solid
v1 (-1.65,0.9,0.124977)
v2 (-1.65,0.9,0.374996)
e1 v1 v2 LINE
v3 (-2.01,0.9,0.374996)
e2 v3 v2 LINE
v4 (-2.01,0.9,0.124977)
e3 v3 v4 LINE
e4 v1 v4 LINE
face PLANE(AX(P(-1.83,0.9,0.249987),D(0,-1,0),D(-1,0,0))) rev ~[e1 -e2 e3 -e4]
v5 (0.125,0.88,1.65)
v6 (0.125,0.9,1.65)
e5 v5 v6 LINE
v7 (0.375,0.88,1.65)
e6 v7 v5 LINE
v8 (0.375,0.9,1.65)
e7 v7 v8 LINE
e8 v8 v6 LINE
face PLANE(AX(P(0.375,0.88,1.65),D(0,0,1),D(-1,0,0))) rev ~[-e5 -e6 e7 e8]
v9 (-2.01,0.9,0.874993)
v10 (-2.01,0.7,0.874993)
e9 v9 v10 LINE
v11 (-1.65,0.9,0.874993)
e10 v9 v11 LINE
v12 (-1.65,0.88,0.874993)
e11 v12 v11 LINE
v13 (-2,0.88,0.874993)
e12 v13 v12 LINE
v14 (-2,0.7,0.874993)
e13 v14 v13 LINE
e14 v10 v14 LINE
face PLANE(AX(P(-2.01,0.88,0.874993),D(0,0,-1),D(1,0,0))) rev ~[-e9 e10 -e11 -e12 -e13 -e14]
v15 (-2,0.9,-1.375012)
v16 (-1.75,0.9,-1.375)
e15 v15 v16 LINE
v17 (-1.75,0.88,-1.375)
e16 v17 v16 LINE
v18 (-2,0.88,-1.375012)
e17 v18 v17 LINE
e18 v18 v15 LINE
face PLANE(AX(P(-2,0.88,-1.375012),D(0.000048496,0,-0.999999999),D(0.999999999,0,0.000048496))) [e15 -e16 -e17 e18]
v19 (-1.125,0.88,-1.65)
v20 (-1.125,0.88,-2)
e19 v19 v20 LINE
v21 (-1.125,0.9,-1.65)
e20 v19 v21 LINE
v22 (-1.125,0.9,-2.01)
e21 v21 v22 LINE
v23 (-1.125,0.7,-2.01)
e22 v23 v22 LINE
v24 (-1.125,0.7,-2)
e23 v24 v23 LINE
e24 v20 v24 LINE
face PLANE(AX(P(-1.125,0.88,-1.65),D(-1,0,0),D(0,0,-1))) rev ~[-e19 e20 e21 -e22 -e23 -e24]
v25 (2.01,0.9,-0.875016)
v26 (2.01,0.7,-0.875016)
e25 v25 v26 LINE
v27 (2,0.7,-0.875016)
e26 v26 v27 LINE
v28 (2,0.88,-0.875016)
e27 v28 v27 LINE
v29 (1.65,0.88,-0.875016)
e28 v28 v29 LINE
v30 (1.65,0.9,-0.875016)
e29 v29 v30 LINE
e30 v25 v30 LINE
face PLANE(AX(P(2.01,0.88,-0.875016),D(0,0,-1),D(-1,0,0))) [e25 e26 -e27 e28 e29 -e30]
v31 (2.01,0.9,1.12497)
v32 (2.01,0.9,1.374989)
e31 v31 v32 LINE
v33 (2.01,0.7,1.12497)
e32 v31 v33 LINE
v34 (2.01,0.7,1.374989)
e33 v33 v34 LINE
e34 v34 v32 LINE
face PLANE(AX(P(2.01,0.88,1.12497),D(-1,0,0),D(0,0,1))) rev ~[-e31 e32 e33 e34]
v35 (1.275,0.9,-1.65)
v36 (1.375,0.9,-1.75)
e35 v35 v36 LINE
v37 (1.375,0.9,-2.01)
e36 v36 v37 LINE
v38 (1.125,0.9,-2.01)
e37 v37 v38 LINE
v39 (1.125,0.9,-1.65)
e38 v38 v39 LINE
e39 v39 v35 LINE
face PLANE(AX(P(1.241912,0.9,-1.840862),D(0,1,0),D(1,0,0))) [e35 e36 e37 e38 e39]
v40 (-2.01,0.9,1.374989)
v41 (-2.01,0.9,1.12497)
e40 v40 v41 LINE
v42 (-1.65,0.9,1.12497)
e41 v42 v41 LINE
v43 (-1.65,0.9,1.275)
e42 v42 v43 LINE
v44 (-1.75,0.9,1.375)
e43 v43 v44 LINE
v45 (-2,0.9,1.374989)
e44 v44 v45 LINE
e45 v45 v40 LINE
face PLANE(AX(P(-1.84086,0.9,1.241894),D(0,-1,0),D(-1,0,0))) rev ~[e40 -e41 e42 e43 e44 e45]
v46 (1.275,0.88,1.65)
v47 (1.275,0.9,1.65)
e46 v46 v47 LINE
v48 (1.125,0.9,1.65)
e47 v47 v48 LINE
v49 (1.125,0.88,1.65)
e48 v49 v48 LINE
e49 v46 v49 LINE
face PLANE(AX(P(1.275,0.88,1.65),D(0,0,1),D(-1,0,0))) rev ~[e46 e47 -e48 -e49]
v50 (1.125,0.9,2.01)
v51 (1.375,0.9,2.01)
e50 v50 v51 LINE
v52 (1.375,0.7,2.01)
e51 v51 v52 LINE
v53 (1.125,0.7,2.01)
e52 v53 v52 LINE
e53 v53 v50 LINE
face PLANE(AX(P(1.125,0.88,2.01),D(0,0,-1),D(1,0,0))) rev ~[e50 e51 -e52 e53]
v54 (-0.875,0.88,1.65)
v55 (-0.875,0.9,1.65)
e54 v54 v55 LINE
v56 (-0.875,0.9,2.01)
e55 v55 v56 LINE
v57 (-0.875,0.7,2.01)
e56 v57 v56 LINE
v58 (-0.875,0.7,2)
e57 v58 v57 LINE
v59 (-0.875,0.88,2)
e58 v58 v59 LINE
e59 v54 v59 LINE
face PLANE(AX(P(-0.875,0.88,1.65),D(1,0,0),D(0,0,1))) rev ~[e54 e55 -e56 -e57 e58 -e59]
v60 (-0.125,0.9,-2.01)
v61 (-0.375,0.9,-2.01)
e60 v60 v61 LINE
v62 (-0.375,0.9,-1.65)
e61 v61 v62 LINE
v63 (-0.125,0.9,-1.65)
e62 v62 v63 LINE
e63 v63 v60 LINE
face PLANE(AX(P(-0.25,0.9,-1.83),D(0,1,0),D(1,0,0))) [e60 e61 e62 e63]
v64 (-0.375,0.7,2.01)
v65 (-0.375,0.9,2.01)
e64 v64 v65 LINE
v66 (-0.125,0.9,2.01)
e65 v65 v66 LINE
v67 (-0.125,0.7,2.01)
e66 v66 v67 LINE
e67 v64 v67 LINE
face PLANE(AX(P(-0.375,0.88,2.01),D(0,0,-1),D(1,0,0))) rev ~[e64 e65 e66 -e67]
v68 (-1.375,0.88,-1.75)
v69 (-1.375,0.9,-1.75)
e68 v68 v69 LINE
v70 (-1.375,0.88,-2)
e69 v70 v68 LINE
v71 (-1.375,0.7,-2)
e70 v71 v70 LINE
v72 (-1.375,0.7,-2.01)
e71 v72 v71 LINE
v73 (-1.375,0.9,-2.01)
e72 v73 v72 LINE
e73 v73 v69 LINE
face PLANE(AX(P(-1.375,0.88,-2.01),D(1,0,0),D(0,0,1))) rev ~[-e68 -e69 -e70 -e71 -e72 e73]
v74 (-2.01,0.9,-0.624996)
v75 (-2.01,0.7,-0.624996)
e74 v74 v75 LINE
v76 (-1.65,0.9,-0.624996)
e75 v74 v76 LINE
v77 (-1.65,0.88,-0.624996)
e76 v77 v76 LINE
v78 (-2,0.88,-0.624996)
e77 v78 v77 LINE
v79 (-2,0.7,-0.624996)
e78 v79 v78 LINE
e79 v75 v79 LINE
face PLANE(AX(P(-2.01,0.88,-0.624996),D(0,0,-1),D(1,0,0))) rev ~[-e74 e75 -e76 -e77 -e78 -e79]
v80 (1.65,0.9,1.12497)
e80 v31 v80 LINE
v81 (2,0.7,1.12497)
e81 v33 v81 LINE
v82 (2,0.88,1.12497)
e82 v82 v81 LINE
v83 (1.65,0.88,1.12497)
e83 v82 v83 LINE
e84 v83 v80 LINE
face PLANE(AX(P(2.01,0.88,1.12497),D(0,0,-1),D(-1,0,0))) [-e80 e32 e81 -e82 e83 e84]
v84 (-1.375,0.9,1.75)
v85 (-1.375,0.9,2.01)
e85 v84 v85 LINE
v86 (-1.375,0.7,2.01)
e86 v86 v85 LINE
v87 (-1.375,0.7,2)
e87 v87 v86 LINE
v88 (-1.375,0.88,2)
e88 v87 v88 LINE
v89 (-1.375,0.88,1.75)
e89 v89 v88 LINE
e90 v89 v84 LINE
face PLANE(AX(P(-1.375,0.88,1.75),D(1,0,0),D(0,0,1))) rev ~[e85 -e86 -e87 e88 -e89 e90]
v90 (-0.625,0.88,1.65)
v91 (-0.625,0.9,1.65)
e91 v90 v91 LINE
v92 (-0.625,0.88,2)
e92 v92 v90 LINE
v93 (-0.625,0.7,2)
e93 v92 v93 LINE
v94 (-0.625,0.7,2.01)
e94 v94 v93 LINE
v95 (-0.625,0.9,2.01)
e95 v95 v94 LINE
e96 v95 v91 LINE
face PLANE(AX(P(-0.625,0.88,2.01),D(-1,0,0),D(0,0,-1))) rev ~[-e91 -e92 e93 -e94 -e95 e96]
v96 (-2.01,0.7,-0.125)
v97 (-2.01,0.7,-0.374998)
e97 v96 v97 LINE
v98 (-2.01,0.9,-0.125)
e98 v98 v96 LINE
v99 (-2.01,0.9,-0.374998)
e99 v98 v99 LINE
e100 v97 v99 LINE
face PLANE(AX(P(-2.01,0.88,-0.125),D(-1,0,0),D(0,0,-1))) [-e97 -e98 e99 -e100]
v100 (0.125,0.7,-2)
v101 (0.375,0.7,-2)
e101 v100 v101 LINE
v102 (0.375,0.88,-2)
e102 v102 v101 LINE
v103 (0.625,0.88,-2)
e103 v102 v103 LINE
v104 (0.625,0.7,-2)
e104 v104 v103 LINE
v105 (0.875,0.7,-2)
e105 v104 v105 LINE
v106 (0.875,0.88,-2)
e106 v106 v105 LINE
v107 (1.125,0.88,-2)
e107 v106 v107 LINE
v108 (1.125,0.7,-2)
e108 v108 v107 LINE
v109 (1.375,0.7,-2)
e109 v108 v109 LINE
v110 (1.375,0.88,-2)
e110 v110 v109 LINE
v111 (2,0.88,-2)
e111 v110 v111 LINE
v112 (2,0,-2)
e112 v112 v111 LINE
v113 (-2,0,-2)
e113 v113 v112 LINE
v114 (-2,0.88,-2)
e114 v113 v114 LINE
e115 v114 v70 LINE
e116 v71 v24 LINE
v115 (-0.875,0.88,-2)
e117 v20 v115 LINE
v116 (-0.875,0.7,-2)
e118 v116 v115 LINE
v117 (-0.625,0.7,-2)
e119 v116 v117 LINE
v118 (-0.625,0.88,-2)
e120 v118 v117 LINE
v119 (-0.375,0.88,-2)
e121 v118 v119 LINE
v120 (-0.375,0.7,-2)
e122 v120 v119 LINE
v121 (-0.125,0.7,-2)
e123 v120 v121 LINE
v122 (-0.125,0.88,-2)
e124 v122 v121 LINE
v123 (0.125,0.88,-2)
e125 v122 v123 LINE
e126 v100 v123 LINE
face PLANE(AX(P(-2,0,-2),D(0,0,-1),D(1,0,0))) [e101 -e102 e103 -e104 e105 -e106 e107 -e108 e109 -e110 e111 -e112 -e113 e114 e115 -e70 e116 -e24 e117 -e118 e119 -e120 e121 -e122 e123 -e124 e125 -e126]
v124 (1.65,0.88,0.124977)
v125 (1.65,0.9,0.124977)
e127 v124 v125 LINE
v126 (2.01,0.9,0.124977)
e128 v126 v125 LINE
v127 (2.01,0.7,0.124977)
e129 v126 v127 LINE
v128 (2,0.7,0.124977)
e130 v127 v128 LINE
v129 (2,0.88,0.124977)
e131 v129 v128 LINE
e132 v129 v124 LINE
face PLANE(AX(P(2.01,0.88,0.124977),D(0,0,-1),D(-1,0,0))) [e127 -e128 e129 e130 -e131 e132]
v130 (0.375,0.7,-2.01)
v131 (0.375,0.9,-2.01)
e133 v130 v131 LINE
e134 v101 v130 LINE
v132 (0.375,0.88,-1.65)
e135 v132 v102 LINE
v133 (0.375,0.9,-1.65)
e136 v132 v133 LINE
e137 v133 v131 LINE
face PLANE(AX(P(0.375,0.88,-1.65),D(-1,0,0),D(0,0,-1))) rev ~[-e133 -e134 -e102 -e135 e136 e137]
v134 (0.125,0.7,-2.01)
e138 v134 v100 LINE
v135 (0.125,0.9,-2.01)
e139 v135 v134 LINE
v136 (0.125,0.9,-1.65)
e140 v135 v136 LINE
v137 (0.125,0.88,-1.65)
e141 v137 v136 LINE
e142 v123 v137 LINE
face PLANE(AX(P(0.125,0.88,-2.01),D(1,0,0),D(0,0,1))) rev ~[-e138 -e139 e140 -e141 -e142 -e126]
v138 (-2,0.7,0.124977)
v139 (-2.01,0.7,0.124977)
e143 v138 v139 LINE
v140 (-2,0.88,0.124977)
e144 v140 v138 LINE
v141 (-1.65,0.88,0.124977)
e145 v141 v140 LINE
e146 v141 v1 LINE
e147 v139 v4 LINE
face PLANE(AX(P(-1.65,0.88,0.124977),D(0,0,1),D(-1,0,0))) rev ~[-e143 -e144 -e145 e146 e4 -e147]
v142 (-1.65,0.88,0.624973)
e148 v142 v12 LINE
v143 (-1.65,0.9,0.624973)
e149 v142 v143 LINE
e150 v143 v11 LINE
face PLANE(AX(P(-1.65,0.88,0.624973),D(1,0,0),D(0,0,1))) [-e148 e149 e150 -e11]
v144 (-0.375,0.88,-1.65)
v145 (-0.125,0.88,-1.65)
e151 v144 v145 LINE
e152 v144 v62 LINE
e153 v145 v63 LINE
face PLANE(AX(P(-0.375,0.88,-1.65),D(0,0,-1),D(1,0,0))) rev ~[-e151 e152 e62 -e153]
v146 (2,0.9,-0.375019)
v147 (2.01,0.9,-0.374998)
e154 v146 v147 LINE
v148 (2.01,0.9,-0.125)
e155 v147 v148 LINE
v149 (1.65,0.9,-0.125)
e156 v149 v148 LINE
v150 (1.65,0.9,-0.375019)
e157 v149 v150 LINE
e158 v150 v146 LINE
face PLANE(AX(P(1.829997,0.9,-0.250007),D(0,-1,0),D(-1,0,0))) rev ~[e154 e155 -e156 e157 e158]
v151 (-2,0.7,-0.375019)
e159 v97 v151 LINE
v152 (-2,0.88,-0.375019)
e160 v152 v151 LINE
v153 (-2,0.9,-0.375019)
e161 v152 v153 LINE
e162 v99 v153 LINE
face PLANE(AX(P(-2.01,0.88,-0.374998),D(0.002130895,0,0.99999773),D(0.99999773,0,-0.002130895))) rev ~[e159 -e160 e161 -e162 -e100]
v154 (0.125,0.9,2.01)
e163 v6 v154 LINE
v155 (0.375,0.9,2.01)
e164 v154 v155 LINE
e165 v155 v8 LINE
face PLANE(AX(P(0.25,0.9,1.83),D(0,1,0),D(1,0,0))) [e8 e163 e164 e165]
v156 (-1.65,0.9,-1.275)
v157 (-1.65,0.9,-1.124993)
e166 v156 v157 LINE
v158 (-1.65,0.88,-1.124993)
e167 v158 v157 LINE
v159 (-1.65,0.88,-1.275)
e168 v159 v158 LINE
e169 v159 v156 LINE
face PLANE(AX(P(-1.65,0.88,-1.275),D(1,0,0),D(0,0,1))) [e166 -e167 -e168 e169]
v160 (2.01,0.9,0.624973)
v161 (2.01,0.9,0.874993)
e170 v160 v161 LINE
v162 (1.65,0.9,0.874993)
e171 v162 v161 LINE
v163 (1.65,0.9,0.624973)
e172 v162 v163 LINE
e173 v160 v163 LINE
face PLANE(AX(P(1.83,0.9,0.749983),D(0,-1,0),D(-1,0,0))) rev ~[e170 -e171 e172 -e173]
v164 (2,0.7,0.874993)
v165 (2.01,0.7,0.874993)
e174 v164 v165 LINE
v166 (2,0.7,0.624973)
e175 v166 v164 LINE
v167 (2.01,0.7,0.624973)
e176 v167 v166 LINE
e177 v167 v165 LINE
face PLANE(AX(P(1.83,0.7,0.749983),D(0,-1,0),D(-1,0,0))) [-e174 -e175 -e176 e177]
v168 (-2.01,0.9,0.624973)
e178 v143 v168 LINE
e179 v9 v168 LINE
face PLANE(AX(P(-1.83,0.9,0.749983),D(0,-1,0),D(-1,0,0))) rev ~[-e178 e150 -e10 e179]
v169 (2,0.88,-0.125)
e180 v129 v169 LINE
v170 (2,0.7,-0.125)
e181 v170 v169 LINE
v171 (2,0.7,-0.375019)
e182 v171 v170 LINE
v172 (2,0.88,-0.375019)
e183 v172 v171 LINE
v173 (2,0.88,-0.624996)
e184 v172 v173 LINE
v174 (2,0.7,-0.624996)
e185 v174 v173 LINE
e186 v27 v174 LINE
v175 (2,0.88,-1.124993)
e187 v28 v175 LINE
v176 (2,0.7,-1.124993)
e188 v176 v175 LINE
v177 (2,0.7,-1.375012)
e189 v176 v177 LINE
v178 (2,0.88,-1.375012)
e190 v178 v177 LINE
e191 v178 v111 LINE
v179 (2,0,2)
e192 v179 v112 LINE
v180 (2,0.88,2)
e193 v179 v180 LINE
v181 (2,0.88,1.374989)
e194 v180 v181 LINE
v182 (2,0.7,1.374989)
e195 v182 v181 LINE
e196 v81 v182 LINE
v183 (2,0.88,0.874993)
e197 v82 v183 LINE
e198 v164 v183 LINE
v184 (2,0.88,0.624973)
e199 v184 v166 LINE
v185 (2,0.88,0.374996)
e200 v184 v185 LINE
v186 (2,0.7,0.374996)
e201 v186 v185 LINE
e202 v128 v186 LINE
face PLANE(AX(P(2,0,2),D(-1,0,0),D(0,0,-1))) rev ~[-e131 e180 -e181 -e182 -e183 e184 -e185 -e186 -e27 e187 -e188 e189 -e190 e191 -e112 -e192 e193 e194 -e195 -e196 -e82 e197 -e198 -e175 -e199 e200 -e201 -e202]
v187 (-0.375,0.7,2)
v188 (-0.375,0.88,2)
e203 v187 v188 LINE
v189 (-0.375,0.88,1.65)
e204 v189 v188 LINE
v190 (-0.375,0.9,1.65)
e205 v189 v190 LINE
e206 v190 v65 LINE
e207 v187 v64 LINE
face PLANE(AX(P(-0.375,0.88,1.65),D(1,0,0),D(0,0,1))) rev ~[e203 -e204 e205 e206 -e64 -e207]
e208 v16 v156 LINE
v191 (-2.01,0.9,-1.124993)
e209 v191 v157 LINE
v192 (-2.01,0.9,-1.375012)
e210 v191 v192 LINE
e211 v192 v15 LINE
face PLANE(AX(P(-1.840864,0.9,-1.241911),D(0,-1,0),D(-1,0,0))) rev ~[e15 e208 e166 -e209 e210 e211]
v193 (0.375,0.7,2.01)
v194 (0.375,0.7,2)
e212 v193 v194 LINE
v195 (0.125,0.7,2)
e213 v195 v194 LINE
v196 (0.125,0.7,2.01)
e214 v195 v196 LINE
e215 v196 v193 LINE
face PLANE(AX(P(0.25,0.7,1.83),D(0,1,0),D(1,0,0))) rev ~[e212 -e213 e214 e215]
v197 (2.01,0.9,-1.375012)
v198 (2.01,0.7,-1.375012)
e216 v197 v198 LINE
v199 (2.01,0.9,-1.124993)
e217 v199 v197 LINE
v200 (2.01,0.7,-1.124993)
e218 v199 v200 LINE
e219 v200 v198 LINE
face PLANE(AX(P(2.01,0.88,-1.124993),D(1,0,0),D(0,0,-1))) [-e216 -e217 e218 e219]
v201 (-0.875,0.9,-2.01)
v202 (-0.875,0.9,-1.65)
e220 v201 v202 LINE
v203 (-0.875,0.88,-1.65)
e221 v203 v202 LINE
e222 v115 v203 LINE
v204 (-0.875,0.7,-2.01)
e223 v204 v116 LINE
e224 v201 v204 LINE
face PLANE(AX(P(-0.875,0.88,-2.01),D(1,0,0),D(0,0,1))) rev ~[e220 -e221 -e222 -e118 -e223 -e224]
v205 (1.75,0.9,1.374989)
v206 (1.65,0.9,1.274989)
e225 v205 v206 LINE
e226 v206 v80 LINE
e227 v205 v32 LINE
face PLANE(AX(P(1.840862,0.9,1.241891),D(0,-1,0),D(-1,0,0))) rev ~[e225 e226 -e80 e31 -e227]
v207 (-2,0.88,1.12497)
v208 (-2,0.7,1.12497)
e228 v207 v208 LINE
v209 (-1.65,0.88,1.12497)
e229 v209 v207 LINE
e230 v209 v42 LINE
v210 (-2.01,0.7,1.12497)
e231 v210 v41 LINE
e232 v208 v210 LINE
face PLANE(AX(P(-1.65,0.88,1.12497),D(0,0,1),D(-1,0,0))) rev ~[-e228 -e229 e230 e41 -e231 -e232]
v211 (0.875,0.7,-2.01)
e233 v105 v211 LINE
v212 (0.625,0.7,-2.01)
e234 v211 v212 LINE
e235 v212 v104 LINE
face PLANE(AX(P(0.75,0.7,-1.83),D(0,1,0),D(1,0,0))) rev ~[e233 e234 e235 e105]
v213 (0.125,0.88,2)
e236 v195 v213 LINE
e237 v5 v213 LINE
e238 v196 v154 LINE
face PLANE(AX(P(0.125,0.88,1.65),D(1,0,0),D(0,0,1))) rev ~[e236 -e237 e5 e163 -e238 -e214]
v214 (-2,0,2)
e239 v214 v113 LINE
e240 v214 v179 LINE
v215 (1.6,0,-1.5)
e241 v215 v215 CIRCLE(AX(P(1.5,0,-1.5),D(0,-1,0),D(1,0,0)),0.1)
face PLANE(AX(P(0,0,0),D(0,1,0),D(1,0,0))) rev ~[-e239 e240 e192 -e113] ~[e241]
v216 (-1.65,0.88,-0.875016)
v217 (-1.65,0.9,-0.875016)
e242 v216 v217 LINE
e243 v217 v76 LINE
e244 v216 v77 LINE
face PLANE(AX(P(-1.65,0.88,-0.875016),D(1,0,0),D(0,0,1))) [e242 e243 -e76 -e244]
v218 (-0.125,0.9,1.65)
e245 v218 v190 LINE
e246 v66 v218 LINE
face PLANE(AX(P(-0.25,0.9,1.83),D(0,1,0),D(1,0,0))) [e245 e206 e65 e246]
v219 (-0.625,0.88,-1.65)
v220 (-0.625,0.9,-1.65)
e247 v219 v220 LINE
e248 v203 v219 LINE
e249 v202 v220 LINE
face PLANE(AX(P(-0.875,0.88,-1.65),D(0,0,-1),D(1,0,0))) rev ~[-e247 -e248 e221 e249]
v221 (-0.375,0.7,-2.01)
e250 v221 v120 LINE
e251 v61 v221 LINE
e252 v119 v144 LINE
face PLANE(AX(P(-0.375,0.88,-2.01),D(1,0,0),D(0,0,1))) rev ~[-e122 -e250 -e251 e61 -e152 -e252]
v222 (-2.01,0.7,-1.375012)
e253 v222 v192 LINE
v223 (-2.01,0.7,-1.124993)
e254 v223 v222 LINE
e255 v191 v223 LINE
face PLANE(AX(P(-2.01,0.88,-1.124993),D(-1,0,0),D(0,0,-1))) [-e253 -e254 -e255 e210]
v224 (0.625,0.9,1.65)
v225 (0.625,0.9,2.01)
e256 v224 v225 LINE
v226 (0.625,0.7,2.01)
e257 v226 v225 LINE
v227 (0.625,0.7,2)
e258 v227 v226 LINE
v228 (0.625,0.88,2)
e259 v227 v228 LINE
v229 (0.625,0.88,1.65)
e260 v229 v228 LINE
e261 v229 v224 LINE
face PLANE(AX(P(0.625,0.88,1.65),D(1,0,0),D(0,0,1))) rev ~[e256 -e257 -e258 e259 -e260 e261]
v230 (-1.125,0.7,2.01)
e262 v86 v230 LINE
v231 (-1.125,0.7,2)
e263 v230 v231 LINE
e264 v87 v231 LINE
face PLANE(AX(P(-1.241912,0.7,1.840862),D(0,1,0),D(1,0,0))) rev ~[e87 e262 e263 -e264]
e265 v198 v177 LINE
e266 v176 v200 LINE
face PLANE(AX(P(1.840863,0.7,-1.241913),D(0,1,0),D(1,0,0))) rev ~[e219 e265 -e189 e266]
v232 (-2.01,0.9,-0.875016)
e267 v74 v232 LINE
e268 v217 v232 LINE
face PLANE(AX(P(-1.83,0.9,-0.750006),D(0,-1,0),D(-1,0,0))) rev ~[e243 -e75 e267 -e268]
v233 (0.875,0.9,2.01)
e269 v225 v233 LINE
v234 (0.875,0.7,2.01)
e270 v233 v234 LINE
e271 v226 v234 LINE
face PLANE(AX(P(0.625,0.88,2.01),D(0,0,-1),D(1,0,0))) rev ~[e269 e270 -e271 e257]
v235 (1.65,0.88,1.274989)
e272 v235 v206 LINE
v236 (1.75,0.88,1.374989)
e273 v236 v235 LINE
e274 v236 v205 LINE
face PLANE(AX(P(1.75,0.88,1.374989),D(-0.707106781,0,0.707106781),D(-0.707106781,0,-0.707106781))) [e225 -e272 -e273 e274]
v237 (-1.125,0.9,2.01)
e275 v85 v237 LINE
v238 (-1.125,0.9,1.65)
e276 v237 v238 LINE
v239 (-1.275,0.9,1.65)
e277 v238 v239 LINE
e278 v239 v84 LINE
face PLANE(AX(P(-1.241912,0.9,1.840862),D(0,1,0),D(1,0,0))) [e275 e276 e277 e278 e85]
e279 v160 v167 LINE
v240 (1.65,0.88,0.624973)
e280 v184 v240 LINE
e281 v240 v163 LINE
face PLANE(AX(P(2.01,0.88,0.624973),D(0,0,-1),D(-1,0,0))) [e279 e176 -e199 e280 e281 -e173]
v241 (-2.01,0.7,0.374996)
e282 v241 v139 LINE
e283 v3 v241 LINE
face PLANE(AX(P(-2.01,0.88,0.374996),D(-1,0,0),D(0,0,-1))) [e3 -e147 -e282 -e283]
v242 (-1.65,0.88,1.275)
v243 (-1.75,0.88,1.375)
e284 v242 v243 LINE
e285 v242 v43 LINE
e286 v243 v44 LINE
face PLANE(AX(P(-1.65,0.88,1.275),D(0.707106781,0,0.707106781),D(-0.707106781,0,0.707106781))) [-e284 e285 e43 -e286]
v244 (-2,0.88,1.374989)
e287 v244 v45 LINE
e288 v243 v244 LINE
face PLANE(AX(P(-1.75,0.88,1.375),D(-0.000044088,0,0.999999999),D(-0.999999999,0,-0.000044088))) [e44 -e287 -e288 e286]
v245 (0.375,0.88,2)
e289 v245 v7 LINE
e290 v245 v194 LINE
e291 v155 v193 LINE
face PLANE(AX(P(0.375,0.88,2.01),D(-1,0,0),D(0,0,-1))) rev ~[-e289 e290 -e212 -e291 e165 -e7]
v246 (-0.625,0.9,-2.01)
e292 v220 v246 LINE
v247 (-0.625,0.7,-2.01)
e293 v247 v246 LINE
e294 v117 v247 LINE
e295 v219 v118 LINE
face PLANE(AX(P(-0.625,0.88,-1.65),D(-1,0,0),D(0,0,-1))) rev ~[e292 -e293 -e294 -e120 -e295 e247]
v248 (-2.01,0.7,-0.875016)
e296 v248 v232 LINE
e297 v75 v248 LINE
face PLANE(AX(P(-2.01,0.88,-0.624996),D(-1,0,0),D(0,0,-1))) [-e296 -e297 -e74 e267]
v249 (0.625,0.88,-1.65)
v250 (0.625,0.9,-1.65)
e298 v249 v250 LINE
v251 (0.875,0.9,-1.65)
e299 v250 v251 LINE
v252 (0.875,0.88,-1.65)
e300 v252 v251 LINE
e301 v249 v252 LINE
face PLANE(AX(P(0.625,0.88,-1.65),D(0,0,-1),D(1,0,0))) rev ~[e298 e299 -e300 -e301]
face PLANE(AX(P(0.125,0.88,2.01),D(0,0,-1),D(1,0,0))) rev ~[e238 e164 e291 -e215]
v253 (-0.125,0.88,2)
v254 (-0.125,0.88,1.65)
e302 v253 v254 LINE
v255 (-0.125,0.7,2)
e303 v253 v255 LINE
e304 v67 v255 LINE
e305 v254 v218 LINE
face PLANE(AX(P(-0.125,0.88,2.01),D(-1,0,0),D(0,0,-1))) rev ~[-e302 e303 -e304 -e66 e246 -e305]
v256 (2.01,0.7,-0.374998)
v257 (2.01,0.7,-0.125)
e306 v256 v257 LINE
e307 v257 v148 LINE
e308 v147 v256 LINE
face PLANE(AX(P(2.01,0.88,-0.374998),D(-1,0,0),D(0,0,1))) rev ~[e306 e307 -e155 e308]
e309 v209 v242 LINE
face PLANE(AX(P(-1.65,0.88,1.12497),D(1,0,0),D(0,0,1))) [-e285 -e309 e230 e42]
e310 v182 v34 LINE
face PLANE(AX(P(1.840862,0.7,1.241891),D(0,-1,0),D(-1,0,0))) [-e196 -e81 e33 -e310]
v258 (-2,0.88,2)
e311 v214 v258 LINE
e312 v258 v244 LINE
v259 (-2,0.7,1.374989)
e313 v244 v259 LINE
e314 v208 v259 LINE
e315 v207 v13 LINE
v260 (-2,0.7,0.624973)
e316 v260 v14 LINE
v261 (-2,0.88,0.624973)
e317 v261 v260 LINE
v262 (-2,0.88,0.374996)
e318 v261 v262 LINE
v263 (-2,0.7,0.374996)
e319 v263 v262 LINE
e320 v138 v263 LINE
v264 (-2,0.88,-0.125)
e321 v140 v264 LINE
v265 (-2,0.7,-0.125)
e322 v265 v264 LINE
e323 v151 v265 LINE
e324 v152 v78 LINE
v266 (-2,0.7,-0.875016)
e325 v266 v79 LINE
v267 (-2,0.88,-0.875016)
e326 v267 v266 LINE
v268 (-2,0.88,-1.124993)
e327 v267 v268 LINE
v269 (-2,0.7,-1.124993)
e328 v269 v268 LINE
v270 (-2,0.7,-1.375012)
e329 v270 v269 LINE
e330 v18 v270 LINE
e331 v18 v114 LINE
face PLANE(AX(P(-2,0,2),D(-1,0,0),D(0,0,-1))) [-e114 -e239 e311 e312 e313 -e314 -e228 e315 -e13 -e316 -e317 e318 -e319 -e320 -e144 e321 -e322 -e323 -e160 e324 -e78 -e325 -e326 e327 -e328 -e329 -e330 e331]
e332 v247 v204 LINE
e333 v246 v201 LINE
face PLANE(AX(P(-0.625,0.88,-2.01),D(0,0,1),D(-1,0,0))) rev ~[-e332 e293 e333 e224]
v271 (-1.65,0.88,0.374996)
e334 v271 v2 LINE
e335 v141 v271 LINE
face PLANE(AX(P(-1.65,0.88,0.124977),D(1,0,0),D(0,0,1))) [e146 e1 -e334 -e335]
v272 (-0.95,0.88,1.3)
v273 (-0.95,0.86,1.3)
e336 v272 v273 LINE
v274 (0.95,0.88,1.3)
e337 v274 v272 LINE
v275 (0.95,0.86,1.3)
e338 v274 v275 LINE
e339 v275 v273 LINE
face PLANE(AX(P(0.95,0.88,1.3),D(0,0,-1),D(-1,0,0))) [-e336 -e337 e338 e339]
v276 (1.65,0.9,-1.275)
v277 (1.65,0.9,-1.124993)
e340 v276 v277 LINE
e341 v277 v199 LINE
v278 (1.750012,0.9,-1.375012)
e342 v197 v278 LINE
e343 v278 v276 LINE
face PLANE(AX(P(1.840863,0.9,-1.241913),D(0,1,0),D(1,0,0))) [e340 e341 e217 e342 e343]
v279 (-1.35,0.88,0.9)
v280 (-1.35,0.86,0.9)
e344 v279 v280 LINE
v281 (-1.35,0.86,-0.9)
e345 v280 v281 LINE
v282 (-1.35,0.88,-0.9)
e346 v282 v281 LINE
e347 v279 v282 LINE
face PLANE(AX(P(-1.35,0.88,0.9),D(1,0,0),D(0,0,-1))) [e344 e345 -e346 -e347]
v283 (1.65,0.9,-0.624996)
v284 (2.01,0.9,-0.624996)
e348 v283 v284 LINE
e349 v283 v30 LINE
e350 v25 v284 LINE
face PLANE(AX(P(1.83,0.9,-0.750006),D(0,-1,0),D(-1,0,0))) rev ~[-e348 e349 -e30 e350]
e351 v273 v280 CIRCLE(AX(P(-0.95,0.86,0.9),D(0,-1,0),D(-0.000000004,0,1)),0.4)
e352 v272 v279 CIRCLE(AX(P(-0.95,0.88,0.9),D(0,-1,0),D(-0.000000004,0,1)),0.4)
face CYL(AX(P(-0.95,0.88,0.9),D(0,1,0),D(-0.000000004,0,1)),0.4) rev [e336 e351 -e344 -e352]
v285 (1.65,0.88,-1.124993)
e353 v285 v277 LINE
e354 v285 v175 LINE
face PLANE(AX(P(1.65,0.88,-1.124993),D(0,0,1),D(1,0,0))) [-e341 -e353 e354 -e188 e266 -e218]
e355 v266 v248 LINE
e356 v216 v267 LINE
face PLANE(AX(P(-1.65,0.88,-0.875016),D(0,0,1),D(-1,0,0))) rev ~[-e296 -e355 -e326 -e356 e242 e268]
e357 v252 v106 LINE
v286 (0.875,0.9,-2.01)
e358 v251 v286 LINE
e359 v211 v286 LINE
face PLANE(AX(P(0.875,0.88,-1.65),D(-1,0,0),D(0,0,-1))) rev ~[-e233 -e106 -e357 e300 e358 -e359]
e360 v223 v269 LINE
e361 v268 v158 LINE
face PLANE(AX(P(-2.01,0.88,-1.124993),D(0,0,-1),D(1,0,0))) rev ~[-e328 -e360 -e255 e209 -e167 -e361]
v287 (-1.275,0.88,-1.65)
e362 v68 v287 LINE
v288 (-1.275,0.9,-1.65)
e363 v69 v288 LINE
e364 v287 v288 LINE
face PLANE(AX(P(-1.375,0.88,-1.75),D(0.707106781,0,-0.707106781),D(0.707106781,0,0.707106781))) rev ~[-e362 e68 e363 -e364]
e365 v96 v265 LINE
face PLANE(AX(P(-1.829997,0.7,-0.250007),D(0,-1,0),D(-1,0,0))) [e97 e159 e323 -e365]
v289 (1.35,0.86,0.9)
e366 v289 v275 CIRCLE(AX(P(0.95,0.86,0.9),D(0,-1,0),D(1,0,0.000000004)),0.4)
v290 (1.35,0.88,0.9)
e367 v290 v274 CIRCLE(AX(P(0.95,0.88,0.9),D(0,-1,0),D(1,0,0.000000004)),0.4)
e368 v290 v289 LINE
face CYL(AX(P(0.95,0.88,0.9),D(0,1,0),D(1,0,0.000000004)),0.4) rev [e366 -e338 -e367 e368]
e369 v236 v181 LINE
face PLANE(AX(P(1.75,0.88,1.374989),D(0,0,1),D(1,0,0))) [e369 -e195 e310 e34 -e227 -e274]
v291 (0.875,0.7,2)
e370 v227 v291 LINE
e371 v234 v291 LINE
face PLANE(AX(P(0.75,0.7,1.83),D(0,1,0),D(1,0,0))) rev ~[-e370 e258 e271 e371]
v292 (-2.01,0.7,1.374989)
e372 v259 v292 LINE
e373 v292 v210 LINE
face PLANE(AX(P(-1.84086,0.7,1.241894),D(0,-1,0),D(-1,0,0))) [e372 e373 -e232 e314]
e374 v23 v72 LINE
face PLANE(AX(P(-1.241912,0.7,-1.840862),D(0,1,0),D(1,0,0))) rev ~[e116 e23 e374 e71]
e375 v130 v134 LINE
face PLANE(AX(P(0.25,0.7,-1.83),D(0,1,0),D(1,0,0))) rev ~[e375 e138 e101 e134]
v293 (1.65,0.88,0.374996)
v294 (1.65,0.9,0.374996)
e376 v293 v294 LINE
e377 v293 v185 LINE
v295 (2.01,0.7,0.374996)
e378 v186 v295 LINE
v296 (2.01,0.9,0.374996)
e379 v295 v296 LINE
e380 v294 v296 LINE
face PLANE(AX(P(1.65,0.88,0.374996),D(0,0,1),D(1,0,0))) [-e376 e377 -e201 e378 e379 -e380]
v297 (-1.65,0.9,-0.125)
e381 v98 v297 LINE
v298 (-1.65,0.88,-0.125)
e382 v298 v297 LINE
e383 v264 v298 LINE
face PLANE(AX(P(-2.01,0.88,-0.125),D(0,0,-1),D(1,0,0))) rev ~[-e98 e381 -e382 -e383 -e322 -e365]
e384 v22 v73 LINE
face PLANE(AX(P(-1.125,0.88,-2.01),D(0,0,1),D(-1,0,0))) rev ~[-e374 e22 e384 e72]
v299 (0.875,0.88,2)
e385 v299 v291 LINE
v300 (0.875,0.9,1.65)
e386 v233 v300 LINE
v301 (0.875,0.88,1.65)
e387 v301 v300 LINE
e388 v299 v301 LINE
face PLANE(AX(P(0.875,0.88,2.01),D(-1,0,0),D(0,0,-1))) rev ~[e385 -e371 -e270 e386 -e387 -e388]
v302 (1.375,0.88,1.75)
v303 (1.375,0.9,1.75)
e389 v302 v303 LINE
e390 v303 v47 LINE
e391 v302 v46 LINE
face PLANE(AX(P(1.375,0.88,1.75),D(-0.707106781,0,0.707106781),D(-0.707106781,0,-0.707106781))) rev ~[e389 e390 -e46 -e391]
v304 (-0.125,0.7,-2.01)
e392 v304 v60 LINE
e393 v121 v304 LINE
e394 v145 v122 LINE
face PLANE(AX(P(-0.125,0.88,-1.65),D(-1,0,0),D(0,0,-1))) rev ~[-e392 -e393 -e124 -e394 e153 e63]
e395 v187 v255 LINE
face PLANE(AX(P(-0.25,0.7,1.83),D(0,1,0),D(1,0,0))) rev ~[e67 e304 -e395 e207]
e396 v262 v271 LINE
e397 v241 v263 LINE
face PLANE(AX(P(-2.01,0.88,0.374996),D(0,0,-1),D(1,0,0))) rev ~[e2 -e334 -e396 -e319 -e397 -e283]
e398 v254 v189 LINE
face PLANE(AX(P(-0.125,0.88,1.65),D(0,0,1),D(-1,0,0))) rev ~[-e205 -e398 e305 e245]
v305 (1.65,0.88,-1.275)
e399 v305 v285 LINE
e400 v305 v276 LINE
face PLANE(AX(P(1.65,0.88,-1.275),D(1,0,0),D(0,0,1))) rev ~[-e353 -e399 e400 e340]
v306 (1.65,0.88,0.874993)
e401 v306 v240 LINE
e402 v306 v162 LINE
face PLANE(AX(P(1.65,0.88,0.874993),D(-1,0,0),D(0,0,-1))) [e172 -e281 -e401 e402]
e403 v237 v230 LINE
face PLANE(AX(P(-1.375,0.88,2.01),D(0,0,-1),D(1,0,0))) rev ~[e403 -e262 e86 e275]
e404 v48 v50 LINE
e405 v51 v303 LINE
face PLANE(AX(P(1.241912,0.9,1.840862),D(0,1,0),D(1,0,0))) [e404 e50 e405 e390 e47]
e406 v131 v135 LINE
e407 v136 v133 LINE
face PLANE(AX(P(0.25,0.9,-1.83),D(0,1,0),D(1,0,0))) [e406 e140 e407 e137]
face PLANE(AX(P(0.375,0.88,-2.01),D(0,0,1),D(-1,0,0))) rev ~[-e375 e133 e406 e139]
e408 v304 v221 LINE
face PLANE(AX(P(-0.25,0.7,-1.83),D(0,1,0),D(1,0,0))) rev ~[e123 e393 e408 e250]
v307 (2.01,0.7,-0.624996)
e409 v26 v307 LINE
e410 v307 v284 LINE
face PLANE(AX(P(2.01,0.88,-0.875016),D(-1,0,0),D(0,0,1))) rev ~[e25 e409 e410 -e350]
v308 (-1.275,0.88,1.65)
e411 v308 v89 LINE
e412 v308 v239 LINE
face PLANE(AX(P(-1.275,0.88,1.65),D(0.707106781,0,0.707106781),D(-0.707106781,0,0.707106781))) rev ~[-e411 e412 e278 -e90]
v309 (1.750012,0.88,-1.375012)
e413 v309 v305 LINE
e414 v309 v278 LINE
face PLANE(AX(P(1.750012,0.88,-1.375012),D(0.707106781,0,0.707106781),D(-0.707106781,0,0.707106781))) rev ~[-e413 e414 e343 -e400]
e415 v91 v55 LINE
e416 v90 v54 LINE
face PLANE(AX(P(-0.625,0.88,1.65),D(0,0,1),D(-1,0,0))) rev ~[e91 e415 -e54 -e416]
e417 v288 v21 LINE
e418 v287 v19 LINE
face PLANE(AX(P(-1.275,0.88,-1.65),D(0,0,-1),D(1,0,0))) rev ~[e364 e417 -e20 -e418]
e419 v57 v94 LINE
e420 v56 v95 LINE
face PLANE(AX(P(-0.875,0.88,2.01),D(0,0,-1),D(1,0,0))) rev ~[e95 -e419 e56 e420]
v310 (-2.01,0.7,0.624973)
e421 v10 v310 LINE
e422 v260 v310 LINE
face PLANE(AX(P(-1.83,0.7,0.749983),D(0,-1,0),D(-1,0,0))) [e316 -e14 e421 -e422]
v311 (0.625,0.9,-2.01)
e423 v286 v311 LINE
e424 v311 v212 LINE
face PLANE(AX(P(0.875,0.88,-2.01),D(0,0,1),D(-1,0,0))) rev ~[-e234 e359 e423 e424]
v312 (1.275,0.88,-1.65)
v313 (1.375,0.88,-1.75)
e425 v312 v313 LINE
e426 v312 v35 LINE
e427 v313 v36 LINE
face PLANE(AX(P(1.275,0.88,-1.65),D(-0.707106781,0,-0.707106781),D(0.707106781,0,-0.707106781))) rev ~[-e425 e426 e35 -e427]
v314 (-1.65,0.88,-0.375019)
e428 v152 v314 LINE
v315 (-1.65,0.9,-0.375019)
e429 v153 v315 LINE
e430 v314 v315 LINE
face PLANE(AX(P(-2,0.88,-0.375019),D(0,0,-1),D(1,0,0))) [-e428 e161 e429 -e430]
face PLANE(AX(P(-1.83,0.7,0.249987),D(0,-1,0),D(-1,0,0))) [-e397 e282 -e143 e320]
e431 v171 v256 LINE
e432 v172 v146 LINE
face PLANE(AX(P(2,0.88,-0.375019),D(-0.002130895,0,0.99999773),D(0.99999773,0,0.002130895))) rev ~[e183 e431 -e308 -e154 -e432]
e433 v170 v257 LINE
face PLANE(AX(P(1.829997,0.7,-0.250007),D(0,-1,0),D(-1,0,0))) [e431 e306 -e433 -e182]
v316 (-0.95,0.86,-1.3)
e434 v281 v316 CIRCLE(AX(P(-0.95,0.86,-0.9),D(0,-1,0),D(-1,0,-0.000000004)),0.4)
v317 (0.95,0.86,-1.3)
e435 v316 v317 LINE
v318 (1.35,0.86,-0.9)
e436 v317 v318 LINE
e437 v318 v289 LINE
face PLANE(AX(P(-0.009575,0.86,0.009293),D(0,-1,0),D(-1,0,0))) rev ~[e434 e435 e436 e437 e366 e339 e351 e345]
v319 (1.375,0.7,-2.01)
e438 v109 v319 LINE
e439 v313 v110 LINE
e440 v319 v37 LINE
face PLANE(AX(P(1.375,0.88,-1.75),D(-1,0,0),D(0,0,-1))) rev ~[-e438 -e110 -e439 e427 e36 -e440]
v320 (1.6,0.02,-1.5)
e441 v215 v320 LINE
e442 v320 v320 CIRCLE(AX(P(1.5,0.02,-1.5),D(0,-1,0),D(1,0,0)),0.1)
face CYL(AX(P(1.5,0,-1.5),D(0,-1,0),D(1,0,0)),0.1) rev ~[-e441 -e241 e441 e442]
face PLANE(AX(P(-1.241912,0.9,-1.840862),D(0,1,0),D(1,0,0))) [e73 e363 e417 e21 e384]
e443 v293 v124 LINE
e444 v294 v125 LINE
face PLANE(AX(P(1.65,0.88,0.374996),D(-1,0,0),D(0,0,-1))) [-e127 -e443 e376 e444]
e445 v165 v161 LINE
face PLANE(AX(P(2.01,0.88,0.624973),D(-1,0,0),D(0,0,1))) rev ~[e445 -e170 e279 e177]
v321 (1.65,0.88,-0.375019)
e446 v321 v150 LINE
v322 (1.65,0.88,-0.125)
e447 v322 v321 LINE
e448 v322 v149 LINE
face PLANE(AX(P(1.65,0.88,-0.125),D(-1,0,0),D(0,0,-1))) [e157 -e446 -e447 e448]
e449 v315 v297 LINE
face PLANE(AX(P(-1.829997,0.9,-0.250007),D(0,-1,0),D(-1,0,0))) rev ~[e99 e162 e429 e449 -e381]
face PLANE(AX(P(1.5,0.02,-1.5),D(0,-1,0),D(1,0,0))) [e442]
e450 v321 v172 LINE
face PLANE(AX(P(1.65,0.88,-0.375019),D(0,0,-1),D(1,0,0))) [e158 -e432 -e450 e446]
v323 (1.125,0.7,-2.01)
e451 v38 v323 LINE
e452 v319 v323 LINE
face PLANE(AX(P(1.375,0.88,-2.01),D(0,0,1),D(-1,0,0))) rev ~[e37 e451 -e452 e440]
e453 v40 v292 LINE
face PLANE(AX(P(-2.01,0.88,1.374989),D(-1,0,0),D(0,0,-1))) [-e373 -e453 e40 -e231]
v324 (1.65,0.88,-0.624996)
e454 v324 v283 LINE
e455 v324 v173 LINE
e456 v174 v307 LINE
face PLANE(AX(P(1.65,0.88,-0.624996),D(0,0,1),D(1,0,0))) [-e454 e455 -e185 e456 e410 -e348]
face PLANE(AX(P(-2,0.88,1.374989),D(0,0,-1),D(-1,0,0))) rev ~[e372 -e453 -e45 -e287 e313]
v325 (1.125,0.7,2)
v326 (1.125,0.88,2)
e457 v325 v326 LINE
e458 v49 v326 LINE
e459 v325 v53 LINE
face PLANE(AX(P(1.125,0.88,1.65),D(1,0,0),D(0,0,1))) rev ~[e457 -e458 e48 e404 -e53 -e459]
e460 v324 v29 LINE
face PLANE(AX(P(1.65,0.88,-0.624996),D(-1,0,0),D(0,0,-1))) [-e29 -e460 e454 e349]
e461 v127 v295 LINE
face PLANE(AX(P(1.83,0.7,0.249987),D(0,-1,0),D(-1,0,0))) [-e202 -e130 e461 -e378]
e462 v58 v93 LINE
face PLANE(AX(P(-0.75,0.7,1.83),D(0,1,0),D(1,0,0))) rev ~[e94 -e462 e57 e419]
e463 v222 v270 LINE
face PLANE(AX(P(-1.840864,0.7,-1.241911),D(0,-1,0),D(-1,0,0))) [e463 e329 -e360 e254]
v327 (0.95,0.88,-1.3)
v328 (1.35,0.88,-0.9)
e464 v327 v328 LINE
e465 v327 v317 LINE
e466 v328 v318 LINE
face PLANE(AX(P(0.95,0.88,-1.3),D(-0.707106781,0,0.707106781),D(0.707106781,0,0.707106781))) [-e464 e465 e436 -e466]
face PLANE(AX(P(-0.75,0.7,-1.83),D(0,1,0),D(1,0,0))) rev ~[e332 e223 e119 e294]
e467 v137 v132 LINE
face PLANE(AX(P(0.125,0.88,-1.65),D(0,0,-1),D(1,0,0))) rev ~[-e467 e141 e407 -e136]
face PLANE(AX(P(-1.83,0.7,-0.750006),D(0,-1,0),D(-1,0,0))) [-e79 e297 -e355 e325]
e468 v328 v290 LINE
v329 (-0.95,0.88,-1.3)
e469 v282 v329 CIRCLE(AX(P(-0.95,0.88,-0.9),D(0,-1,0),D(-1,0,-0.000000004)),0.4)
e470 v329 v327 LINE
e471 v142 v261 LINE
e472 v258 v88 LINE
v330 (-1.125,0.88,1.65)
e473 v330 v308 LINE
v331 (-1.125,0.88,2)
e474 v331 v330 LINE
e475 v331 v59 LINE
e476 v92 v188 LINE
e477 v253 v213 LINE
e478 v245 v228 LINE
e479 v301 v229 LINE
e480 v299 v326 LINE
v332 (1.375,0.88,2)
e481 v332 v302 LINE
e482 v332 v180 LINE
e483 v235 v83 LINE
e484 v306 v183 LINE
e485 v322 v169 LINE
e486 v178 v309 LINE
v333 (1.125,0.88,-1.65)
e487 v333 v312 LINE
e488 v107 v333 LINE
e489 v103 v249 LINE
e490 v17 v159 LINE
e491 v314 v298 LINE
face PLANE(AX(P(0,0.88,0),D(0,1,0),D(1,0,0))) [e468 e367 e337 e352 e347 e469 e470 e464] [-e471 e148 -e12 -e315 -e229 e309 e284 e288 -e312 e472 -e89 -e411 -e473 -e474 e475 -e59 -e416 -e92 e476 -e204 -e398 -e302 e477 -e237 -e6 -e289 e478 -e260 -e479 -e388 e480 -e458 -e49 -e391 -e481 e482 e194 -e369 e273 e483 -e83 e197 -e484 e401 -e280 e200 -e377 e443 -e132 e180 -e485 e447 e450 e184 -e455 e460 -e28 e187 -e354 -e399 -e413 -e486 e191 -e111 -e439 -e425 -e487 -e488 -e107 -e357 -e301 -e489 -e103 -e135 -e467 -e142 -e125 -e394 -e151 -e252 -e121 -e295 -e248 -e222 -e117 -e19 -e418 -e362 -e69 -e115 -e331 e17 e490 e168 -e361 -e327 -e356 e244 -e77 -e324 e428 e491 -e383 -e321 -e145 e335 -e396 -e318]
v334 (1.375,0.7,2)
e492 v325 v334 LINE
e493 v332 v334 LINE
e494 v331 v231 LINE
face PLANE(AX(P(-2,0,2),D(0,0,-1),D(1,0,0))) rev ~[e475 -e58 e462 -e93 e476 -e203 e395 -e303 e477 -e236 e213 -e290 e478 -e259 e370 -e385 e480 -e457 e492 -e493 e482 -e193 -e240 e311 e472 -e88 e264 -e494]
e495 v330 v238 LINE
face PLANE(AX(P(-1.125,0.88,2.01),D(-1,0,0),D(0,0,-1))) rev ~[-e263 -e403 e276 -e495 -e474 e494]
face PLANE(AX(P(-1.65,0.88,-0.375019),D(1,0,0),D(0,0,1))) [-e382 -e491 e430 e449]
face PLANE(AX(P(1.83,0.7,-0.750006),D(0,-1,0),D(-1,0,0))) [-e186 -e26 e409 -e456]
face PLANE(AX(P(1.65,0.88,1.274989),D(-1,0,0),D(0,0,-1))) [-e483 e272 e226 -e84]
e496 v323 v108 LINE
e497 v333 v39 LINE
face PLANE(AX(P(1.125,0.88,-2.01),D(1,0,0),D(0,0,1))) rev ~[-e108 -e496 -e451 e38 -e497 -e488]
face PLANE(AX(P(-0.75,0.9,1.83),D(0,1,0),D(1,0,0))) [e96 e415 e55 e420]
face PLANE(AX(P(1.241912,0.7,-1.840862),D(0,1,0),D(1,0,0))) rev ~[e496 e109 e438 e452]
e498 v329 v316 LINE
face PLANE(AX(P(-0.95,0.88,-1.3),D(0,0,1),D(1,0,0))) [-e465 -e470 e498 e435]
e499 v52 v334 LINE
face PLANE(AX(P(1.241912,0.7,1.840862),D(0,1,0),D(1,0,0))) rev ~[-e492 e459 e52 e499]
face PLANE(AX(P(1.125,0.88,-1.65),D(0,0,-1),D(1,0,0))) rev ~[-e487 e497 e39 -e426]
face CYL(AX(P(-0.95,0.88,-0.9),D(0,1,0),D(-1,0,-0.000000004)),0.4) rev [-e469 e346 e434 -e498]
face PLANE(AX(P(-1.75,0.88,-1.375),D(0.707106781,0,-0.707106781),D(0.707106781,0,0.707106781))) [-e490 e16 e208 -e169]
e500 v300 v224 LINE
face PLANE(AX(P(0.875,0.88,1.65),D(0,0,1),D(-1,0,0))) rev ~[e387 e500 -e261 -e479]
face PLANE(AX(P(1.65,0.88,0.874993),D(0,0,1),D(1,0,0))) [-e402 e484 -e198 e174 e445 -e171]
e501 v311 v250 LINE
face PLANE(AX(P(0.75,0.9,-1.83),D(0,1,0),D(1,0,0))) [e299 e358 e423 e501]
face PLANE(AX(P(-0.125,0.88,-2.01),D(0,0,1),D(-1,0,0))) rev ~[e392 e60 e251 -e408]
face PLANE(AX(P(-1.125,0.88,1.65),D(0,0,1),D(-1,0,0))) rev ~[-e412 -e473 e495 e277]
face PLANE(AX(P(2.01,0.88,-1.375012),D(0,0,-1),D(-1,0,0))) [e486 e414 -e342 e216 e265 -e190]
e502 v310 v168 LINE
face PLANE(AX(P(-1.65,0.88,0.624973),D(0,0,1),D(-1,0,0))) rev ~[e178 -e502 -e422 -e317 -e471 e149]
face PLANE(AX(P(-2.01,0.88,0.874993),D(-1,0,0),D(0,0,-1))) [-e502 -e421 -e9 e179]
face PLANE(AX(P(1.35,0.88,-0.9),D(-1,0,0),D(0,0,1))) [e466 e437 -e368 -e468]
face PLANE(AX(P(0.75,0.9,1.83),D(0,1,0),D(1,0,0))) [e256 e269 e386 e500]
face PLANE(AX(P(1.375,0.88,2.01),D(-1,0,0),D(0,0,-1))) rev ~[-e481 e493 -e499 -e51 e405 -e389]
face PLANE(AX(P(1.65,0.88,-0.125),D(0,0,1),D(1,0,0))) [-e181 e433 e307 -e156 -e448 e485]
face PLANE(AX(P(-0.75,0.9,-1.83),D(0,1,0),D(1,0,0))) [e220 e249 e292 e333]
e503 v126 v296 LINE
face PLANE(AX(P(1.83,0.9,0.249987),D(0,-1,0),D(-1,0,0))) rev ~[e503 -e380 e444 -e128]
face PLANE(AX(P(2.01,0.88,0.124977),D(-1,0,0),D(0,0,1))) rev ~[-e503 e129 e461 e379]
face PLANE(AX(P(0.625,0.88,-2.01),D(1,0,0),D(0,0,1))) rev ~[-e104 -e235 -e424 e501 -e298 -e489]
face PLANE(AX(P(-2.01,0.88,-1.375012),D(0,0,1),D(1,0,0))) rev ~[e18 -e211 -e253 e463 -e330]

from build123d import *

# Parameters (mm, degrees)
SKETCH1_W                = 4
SKETCH1_H                = 4
BOSS_EXTRUDE1_DEPTH      = 0.88
BOSS_EXTRUDE3_DEPTH      = 0.02
BOSS_EXTRUDE3_DEPTH_BACK = 0.18
CUT_EXTRUDE1_DEPTH       = 0.02
SKETCH4_R                = 0.1
CUT_EXTRUDE2_DEPTH       = 0.02


with BuildPart() as part:
    # Sketch1 → Boss-Extrude1 (new body)
    with BuildSketch(Plane(origin=(0, 0, 0), x_dir=(1, 0, 0), z_dir=(0, 1, 0))):
        Rectangle(SKETCH1_W, SKETCH1_H)
    extrude(amount=BOSS_EXTRUDE1_DEPTH)

    # Sketch2 → Boss-Extrude3 (add, two sides)
    with BuildSketch(Plane(origin=(0, 0.88, 0), x_dir=(1, 0, 0), z_dir=(0, 1, 0))) as boss_extrude3_sk:
        Polygon((2, 1.375012124), (1.750012124, 1.375012124), (1.65, 1.275), (1.65, 1.124992652), (2, 1.124992652), (2.01, 1.124992652), (2.01, 1.375012124), align=None)
        Polygon((2, 0.624996326), (1.65, 0.624996326), (1.65, 0.875015798), (2, 0.875015798), (2.01, 0.875015798), (2.01, 0.624996326), align=None)
        Polygon((2, 0.125), (1.65, 0.125), (1.65, 0.375019472), (2, 0.375019472), (2.01, 0.374998163), (2.01, 0.125), align=None)
        Polygon((2, -0.374996326), (1.65, -0.374996326), (1.65, -0.124976854), (2, -0.124976854), (2.01, -0.124976854), (2.01, -0.374996326), align=None)
        Polygon((2, -0.874992652), (1.65, -0.874992652), (1.65, -0.62497318), (2, -0.62497318), (2.01, -0.62497318), (2.01, -0.874992652), align=None)
        Polygon((2, -1.374988978), (1.75, -1.374988978), (1.65, -1.274988978), (1.65, -1.124969506), (2, -1.124969506), (2.01, -1.124969506), (2.01, -1.374988978), align=None)
        Polygon((-1.375, -2), (-1.375, -2.01), (-1.125, -2.01), (-1.125, -2), (-1.125, -1.65), (-1.275, -1.65), (-1.375, -1.75), align=None)
        Polygon((-2, -1.124969506), (-1.65, -1.124969506), (-1.65, -1.275), (-1.75, -1.375), (-2, -1.374988978), (-2.01, -1.374988978), (-2.01, -1.124969506), align=None)
        Polygon((-2, -0.62497318), (-1.65, -0.62497318), (-1.65, -0.874992652), (-2, -0.874992652), (-2.01, -0.874992652), (-2.01, -0.62497318), align=None)
        Polygon((1.375, -2.01), (1.375, -2), (1.375, -1.75), (1.275, -1.65), (1.125, -1.65), (1.125, -2), (1.125, -2.01), align=None)
        Polygon((-2, -0.124976854), (-1.65, -0.124976854), (-1.65, -0.374996326), (-2, -0.374996326), (-2.01, -0.374996326), (-2.01, -0.124976854), align=None)
        Polygon((-2, 0.375019472), (-1.65, 0.375019472), (-1.65, 0.125), (-2, 0.125), (-2.01, 0.125), (-2.01, 0.374998163), align=None)
        Polygon((-2, 0.875015798), (-1.65, 0.875015798), (-1.65, 0.624996326), (-2, 0.624996326), (-2.01, 0.624996326), (-2.01, 0.875015798), align=None)
        Polygon((-1.65, 1.275), (-1.65, 1.124992652), (-2, 1.124992652), (-2.01, 1.124992652), (-2.01, 1.375012124), (-2, 1.375012124), (-1.75, 1.375), align=None)
        Polygon((1.125, 2.01), (1.125, 2), (1.125, 1.65), (1.275, 1.65), (1.375, 1.75), (1.375, 2), (1.375, 2.01), align=None)
        Polygon((-0.875, -1.65), (-0.875, -2), (-0.875, -2.01), (-0.625, -2.01), (-0.625, -2), (-0.625, -1.65), align=None)
        Polygon((-0.375, -1.65), (-0.375, -2), (-0.375, -2.01), (-0.125, -2.01), (-0.125, -2), (-0.125, -1.65), align=None)
        Polygon((0.125, -1.65), (0.125, -2), (0.125, -2.01), (0.375, -2.01), (0.375, -2), (0.375, -1.65), align=None)
        Polygon((0.625, -1.65), (0.625, -2), (0.625, -2.01), (0.875, -2.01), (0.875, -2), (0.875, -1.65), align=None)
        Polygon((0.875, 1.65), (0.875, 2), (0.875, 2.01), (0.625, 2.01), (0.625, 2), (0.625, 1.65), align=None)
        Polygon((0.375, 1.65), (0.375, 2), (0.375, 2.01), (0.125, 2.01), (0.125, 2), (0.125, 1.65), align=None)
        Polygon((-0.125, 1.65), (-0.125, 2), (-0.125, 2.01), (-0.375, 2.01), (-0.375, 2), (-0.375, 1.65), align=None)
        Polygon((-0.625, 1.65), (-0.625, 2), (-0.625, 2.01), (-0.875, 2.01), (-0.875, 2), (-0.875, 1.65), align=None)
        Polygon((-1.125, 1.65), (-1.125, 2), (-1.125, 2.01), (-1.375, 2.01), (-1.375, 2), (-1.375, 1.75), (-1.275, 1.65), align=None)
    extrude(amount=BOSS_EXTRUDE3_DEPTH)
    extrude(boss_extrude3_sk.sketch, amount=-BOSS_EXTRUDE3_DEPTH_BACK)

    # Sketch3 → Cut-Extrude1 (cut)
    with BuildSketch(Plane(origin=(0, 0.88, 0), x_dir=(1, 0, 0), z_dir=(0, 1, 0))):
        with BuildLine():
            Line((0.95, 1.3), (1.35, 0.9))
            Line((1.35, 0.9), (1.35, -0.9))
            ThreePointArc((1.35, -0.9), (1.232842712, -1.182842712), (0.95, -1.3))
            Line((0.95, -1.3), (-0.95, -1.3))
            ThreePointArc((-0.95, -1.3), (-1.232842712, -1.182842712), (-1.35, -0.9))
            Line((-1.35, -0.9), (-1.35, 0.9))
            ThreePointArc((-1.35, 0.9), (-1.232842712, 1.182842712), (-0.95, 1.3))
            Line((-0.95, 1.3), (0.95, 1.3))
        make_face()
    extrude(amount=-CUT_EXTRUDE1_DEPTH, mode=Mode.SUBTRACT)

    # Sketch4 → Cut-Extrude2 (cut)
    with BuildSketch(Plane.XZ):
        with Locations((1.5, -1.5)):
            Circle(SKETCH4_R)
    extrude(amount=-CUT_EXTRUDE2_DEPTH, mode=Mode.SUBTRACT)


solid = part.part
